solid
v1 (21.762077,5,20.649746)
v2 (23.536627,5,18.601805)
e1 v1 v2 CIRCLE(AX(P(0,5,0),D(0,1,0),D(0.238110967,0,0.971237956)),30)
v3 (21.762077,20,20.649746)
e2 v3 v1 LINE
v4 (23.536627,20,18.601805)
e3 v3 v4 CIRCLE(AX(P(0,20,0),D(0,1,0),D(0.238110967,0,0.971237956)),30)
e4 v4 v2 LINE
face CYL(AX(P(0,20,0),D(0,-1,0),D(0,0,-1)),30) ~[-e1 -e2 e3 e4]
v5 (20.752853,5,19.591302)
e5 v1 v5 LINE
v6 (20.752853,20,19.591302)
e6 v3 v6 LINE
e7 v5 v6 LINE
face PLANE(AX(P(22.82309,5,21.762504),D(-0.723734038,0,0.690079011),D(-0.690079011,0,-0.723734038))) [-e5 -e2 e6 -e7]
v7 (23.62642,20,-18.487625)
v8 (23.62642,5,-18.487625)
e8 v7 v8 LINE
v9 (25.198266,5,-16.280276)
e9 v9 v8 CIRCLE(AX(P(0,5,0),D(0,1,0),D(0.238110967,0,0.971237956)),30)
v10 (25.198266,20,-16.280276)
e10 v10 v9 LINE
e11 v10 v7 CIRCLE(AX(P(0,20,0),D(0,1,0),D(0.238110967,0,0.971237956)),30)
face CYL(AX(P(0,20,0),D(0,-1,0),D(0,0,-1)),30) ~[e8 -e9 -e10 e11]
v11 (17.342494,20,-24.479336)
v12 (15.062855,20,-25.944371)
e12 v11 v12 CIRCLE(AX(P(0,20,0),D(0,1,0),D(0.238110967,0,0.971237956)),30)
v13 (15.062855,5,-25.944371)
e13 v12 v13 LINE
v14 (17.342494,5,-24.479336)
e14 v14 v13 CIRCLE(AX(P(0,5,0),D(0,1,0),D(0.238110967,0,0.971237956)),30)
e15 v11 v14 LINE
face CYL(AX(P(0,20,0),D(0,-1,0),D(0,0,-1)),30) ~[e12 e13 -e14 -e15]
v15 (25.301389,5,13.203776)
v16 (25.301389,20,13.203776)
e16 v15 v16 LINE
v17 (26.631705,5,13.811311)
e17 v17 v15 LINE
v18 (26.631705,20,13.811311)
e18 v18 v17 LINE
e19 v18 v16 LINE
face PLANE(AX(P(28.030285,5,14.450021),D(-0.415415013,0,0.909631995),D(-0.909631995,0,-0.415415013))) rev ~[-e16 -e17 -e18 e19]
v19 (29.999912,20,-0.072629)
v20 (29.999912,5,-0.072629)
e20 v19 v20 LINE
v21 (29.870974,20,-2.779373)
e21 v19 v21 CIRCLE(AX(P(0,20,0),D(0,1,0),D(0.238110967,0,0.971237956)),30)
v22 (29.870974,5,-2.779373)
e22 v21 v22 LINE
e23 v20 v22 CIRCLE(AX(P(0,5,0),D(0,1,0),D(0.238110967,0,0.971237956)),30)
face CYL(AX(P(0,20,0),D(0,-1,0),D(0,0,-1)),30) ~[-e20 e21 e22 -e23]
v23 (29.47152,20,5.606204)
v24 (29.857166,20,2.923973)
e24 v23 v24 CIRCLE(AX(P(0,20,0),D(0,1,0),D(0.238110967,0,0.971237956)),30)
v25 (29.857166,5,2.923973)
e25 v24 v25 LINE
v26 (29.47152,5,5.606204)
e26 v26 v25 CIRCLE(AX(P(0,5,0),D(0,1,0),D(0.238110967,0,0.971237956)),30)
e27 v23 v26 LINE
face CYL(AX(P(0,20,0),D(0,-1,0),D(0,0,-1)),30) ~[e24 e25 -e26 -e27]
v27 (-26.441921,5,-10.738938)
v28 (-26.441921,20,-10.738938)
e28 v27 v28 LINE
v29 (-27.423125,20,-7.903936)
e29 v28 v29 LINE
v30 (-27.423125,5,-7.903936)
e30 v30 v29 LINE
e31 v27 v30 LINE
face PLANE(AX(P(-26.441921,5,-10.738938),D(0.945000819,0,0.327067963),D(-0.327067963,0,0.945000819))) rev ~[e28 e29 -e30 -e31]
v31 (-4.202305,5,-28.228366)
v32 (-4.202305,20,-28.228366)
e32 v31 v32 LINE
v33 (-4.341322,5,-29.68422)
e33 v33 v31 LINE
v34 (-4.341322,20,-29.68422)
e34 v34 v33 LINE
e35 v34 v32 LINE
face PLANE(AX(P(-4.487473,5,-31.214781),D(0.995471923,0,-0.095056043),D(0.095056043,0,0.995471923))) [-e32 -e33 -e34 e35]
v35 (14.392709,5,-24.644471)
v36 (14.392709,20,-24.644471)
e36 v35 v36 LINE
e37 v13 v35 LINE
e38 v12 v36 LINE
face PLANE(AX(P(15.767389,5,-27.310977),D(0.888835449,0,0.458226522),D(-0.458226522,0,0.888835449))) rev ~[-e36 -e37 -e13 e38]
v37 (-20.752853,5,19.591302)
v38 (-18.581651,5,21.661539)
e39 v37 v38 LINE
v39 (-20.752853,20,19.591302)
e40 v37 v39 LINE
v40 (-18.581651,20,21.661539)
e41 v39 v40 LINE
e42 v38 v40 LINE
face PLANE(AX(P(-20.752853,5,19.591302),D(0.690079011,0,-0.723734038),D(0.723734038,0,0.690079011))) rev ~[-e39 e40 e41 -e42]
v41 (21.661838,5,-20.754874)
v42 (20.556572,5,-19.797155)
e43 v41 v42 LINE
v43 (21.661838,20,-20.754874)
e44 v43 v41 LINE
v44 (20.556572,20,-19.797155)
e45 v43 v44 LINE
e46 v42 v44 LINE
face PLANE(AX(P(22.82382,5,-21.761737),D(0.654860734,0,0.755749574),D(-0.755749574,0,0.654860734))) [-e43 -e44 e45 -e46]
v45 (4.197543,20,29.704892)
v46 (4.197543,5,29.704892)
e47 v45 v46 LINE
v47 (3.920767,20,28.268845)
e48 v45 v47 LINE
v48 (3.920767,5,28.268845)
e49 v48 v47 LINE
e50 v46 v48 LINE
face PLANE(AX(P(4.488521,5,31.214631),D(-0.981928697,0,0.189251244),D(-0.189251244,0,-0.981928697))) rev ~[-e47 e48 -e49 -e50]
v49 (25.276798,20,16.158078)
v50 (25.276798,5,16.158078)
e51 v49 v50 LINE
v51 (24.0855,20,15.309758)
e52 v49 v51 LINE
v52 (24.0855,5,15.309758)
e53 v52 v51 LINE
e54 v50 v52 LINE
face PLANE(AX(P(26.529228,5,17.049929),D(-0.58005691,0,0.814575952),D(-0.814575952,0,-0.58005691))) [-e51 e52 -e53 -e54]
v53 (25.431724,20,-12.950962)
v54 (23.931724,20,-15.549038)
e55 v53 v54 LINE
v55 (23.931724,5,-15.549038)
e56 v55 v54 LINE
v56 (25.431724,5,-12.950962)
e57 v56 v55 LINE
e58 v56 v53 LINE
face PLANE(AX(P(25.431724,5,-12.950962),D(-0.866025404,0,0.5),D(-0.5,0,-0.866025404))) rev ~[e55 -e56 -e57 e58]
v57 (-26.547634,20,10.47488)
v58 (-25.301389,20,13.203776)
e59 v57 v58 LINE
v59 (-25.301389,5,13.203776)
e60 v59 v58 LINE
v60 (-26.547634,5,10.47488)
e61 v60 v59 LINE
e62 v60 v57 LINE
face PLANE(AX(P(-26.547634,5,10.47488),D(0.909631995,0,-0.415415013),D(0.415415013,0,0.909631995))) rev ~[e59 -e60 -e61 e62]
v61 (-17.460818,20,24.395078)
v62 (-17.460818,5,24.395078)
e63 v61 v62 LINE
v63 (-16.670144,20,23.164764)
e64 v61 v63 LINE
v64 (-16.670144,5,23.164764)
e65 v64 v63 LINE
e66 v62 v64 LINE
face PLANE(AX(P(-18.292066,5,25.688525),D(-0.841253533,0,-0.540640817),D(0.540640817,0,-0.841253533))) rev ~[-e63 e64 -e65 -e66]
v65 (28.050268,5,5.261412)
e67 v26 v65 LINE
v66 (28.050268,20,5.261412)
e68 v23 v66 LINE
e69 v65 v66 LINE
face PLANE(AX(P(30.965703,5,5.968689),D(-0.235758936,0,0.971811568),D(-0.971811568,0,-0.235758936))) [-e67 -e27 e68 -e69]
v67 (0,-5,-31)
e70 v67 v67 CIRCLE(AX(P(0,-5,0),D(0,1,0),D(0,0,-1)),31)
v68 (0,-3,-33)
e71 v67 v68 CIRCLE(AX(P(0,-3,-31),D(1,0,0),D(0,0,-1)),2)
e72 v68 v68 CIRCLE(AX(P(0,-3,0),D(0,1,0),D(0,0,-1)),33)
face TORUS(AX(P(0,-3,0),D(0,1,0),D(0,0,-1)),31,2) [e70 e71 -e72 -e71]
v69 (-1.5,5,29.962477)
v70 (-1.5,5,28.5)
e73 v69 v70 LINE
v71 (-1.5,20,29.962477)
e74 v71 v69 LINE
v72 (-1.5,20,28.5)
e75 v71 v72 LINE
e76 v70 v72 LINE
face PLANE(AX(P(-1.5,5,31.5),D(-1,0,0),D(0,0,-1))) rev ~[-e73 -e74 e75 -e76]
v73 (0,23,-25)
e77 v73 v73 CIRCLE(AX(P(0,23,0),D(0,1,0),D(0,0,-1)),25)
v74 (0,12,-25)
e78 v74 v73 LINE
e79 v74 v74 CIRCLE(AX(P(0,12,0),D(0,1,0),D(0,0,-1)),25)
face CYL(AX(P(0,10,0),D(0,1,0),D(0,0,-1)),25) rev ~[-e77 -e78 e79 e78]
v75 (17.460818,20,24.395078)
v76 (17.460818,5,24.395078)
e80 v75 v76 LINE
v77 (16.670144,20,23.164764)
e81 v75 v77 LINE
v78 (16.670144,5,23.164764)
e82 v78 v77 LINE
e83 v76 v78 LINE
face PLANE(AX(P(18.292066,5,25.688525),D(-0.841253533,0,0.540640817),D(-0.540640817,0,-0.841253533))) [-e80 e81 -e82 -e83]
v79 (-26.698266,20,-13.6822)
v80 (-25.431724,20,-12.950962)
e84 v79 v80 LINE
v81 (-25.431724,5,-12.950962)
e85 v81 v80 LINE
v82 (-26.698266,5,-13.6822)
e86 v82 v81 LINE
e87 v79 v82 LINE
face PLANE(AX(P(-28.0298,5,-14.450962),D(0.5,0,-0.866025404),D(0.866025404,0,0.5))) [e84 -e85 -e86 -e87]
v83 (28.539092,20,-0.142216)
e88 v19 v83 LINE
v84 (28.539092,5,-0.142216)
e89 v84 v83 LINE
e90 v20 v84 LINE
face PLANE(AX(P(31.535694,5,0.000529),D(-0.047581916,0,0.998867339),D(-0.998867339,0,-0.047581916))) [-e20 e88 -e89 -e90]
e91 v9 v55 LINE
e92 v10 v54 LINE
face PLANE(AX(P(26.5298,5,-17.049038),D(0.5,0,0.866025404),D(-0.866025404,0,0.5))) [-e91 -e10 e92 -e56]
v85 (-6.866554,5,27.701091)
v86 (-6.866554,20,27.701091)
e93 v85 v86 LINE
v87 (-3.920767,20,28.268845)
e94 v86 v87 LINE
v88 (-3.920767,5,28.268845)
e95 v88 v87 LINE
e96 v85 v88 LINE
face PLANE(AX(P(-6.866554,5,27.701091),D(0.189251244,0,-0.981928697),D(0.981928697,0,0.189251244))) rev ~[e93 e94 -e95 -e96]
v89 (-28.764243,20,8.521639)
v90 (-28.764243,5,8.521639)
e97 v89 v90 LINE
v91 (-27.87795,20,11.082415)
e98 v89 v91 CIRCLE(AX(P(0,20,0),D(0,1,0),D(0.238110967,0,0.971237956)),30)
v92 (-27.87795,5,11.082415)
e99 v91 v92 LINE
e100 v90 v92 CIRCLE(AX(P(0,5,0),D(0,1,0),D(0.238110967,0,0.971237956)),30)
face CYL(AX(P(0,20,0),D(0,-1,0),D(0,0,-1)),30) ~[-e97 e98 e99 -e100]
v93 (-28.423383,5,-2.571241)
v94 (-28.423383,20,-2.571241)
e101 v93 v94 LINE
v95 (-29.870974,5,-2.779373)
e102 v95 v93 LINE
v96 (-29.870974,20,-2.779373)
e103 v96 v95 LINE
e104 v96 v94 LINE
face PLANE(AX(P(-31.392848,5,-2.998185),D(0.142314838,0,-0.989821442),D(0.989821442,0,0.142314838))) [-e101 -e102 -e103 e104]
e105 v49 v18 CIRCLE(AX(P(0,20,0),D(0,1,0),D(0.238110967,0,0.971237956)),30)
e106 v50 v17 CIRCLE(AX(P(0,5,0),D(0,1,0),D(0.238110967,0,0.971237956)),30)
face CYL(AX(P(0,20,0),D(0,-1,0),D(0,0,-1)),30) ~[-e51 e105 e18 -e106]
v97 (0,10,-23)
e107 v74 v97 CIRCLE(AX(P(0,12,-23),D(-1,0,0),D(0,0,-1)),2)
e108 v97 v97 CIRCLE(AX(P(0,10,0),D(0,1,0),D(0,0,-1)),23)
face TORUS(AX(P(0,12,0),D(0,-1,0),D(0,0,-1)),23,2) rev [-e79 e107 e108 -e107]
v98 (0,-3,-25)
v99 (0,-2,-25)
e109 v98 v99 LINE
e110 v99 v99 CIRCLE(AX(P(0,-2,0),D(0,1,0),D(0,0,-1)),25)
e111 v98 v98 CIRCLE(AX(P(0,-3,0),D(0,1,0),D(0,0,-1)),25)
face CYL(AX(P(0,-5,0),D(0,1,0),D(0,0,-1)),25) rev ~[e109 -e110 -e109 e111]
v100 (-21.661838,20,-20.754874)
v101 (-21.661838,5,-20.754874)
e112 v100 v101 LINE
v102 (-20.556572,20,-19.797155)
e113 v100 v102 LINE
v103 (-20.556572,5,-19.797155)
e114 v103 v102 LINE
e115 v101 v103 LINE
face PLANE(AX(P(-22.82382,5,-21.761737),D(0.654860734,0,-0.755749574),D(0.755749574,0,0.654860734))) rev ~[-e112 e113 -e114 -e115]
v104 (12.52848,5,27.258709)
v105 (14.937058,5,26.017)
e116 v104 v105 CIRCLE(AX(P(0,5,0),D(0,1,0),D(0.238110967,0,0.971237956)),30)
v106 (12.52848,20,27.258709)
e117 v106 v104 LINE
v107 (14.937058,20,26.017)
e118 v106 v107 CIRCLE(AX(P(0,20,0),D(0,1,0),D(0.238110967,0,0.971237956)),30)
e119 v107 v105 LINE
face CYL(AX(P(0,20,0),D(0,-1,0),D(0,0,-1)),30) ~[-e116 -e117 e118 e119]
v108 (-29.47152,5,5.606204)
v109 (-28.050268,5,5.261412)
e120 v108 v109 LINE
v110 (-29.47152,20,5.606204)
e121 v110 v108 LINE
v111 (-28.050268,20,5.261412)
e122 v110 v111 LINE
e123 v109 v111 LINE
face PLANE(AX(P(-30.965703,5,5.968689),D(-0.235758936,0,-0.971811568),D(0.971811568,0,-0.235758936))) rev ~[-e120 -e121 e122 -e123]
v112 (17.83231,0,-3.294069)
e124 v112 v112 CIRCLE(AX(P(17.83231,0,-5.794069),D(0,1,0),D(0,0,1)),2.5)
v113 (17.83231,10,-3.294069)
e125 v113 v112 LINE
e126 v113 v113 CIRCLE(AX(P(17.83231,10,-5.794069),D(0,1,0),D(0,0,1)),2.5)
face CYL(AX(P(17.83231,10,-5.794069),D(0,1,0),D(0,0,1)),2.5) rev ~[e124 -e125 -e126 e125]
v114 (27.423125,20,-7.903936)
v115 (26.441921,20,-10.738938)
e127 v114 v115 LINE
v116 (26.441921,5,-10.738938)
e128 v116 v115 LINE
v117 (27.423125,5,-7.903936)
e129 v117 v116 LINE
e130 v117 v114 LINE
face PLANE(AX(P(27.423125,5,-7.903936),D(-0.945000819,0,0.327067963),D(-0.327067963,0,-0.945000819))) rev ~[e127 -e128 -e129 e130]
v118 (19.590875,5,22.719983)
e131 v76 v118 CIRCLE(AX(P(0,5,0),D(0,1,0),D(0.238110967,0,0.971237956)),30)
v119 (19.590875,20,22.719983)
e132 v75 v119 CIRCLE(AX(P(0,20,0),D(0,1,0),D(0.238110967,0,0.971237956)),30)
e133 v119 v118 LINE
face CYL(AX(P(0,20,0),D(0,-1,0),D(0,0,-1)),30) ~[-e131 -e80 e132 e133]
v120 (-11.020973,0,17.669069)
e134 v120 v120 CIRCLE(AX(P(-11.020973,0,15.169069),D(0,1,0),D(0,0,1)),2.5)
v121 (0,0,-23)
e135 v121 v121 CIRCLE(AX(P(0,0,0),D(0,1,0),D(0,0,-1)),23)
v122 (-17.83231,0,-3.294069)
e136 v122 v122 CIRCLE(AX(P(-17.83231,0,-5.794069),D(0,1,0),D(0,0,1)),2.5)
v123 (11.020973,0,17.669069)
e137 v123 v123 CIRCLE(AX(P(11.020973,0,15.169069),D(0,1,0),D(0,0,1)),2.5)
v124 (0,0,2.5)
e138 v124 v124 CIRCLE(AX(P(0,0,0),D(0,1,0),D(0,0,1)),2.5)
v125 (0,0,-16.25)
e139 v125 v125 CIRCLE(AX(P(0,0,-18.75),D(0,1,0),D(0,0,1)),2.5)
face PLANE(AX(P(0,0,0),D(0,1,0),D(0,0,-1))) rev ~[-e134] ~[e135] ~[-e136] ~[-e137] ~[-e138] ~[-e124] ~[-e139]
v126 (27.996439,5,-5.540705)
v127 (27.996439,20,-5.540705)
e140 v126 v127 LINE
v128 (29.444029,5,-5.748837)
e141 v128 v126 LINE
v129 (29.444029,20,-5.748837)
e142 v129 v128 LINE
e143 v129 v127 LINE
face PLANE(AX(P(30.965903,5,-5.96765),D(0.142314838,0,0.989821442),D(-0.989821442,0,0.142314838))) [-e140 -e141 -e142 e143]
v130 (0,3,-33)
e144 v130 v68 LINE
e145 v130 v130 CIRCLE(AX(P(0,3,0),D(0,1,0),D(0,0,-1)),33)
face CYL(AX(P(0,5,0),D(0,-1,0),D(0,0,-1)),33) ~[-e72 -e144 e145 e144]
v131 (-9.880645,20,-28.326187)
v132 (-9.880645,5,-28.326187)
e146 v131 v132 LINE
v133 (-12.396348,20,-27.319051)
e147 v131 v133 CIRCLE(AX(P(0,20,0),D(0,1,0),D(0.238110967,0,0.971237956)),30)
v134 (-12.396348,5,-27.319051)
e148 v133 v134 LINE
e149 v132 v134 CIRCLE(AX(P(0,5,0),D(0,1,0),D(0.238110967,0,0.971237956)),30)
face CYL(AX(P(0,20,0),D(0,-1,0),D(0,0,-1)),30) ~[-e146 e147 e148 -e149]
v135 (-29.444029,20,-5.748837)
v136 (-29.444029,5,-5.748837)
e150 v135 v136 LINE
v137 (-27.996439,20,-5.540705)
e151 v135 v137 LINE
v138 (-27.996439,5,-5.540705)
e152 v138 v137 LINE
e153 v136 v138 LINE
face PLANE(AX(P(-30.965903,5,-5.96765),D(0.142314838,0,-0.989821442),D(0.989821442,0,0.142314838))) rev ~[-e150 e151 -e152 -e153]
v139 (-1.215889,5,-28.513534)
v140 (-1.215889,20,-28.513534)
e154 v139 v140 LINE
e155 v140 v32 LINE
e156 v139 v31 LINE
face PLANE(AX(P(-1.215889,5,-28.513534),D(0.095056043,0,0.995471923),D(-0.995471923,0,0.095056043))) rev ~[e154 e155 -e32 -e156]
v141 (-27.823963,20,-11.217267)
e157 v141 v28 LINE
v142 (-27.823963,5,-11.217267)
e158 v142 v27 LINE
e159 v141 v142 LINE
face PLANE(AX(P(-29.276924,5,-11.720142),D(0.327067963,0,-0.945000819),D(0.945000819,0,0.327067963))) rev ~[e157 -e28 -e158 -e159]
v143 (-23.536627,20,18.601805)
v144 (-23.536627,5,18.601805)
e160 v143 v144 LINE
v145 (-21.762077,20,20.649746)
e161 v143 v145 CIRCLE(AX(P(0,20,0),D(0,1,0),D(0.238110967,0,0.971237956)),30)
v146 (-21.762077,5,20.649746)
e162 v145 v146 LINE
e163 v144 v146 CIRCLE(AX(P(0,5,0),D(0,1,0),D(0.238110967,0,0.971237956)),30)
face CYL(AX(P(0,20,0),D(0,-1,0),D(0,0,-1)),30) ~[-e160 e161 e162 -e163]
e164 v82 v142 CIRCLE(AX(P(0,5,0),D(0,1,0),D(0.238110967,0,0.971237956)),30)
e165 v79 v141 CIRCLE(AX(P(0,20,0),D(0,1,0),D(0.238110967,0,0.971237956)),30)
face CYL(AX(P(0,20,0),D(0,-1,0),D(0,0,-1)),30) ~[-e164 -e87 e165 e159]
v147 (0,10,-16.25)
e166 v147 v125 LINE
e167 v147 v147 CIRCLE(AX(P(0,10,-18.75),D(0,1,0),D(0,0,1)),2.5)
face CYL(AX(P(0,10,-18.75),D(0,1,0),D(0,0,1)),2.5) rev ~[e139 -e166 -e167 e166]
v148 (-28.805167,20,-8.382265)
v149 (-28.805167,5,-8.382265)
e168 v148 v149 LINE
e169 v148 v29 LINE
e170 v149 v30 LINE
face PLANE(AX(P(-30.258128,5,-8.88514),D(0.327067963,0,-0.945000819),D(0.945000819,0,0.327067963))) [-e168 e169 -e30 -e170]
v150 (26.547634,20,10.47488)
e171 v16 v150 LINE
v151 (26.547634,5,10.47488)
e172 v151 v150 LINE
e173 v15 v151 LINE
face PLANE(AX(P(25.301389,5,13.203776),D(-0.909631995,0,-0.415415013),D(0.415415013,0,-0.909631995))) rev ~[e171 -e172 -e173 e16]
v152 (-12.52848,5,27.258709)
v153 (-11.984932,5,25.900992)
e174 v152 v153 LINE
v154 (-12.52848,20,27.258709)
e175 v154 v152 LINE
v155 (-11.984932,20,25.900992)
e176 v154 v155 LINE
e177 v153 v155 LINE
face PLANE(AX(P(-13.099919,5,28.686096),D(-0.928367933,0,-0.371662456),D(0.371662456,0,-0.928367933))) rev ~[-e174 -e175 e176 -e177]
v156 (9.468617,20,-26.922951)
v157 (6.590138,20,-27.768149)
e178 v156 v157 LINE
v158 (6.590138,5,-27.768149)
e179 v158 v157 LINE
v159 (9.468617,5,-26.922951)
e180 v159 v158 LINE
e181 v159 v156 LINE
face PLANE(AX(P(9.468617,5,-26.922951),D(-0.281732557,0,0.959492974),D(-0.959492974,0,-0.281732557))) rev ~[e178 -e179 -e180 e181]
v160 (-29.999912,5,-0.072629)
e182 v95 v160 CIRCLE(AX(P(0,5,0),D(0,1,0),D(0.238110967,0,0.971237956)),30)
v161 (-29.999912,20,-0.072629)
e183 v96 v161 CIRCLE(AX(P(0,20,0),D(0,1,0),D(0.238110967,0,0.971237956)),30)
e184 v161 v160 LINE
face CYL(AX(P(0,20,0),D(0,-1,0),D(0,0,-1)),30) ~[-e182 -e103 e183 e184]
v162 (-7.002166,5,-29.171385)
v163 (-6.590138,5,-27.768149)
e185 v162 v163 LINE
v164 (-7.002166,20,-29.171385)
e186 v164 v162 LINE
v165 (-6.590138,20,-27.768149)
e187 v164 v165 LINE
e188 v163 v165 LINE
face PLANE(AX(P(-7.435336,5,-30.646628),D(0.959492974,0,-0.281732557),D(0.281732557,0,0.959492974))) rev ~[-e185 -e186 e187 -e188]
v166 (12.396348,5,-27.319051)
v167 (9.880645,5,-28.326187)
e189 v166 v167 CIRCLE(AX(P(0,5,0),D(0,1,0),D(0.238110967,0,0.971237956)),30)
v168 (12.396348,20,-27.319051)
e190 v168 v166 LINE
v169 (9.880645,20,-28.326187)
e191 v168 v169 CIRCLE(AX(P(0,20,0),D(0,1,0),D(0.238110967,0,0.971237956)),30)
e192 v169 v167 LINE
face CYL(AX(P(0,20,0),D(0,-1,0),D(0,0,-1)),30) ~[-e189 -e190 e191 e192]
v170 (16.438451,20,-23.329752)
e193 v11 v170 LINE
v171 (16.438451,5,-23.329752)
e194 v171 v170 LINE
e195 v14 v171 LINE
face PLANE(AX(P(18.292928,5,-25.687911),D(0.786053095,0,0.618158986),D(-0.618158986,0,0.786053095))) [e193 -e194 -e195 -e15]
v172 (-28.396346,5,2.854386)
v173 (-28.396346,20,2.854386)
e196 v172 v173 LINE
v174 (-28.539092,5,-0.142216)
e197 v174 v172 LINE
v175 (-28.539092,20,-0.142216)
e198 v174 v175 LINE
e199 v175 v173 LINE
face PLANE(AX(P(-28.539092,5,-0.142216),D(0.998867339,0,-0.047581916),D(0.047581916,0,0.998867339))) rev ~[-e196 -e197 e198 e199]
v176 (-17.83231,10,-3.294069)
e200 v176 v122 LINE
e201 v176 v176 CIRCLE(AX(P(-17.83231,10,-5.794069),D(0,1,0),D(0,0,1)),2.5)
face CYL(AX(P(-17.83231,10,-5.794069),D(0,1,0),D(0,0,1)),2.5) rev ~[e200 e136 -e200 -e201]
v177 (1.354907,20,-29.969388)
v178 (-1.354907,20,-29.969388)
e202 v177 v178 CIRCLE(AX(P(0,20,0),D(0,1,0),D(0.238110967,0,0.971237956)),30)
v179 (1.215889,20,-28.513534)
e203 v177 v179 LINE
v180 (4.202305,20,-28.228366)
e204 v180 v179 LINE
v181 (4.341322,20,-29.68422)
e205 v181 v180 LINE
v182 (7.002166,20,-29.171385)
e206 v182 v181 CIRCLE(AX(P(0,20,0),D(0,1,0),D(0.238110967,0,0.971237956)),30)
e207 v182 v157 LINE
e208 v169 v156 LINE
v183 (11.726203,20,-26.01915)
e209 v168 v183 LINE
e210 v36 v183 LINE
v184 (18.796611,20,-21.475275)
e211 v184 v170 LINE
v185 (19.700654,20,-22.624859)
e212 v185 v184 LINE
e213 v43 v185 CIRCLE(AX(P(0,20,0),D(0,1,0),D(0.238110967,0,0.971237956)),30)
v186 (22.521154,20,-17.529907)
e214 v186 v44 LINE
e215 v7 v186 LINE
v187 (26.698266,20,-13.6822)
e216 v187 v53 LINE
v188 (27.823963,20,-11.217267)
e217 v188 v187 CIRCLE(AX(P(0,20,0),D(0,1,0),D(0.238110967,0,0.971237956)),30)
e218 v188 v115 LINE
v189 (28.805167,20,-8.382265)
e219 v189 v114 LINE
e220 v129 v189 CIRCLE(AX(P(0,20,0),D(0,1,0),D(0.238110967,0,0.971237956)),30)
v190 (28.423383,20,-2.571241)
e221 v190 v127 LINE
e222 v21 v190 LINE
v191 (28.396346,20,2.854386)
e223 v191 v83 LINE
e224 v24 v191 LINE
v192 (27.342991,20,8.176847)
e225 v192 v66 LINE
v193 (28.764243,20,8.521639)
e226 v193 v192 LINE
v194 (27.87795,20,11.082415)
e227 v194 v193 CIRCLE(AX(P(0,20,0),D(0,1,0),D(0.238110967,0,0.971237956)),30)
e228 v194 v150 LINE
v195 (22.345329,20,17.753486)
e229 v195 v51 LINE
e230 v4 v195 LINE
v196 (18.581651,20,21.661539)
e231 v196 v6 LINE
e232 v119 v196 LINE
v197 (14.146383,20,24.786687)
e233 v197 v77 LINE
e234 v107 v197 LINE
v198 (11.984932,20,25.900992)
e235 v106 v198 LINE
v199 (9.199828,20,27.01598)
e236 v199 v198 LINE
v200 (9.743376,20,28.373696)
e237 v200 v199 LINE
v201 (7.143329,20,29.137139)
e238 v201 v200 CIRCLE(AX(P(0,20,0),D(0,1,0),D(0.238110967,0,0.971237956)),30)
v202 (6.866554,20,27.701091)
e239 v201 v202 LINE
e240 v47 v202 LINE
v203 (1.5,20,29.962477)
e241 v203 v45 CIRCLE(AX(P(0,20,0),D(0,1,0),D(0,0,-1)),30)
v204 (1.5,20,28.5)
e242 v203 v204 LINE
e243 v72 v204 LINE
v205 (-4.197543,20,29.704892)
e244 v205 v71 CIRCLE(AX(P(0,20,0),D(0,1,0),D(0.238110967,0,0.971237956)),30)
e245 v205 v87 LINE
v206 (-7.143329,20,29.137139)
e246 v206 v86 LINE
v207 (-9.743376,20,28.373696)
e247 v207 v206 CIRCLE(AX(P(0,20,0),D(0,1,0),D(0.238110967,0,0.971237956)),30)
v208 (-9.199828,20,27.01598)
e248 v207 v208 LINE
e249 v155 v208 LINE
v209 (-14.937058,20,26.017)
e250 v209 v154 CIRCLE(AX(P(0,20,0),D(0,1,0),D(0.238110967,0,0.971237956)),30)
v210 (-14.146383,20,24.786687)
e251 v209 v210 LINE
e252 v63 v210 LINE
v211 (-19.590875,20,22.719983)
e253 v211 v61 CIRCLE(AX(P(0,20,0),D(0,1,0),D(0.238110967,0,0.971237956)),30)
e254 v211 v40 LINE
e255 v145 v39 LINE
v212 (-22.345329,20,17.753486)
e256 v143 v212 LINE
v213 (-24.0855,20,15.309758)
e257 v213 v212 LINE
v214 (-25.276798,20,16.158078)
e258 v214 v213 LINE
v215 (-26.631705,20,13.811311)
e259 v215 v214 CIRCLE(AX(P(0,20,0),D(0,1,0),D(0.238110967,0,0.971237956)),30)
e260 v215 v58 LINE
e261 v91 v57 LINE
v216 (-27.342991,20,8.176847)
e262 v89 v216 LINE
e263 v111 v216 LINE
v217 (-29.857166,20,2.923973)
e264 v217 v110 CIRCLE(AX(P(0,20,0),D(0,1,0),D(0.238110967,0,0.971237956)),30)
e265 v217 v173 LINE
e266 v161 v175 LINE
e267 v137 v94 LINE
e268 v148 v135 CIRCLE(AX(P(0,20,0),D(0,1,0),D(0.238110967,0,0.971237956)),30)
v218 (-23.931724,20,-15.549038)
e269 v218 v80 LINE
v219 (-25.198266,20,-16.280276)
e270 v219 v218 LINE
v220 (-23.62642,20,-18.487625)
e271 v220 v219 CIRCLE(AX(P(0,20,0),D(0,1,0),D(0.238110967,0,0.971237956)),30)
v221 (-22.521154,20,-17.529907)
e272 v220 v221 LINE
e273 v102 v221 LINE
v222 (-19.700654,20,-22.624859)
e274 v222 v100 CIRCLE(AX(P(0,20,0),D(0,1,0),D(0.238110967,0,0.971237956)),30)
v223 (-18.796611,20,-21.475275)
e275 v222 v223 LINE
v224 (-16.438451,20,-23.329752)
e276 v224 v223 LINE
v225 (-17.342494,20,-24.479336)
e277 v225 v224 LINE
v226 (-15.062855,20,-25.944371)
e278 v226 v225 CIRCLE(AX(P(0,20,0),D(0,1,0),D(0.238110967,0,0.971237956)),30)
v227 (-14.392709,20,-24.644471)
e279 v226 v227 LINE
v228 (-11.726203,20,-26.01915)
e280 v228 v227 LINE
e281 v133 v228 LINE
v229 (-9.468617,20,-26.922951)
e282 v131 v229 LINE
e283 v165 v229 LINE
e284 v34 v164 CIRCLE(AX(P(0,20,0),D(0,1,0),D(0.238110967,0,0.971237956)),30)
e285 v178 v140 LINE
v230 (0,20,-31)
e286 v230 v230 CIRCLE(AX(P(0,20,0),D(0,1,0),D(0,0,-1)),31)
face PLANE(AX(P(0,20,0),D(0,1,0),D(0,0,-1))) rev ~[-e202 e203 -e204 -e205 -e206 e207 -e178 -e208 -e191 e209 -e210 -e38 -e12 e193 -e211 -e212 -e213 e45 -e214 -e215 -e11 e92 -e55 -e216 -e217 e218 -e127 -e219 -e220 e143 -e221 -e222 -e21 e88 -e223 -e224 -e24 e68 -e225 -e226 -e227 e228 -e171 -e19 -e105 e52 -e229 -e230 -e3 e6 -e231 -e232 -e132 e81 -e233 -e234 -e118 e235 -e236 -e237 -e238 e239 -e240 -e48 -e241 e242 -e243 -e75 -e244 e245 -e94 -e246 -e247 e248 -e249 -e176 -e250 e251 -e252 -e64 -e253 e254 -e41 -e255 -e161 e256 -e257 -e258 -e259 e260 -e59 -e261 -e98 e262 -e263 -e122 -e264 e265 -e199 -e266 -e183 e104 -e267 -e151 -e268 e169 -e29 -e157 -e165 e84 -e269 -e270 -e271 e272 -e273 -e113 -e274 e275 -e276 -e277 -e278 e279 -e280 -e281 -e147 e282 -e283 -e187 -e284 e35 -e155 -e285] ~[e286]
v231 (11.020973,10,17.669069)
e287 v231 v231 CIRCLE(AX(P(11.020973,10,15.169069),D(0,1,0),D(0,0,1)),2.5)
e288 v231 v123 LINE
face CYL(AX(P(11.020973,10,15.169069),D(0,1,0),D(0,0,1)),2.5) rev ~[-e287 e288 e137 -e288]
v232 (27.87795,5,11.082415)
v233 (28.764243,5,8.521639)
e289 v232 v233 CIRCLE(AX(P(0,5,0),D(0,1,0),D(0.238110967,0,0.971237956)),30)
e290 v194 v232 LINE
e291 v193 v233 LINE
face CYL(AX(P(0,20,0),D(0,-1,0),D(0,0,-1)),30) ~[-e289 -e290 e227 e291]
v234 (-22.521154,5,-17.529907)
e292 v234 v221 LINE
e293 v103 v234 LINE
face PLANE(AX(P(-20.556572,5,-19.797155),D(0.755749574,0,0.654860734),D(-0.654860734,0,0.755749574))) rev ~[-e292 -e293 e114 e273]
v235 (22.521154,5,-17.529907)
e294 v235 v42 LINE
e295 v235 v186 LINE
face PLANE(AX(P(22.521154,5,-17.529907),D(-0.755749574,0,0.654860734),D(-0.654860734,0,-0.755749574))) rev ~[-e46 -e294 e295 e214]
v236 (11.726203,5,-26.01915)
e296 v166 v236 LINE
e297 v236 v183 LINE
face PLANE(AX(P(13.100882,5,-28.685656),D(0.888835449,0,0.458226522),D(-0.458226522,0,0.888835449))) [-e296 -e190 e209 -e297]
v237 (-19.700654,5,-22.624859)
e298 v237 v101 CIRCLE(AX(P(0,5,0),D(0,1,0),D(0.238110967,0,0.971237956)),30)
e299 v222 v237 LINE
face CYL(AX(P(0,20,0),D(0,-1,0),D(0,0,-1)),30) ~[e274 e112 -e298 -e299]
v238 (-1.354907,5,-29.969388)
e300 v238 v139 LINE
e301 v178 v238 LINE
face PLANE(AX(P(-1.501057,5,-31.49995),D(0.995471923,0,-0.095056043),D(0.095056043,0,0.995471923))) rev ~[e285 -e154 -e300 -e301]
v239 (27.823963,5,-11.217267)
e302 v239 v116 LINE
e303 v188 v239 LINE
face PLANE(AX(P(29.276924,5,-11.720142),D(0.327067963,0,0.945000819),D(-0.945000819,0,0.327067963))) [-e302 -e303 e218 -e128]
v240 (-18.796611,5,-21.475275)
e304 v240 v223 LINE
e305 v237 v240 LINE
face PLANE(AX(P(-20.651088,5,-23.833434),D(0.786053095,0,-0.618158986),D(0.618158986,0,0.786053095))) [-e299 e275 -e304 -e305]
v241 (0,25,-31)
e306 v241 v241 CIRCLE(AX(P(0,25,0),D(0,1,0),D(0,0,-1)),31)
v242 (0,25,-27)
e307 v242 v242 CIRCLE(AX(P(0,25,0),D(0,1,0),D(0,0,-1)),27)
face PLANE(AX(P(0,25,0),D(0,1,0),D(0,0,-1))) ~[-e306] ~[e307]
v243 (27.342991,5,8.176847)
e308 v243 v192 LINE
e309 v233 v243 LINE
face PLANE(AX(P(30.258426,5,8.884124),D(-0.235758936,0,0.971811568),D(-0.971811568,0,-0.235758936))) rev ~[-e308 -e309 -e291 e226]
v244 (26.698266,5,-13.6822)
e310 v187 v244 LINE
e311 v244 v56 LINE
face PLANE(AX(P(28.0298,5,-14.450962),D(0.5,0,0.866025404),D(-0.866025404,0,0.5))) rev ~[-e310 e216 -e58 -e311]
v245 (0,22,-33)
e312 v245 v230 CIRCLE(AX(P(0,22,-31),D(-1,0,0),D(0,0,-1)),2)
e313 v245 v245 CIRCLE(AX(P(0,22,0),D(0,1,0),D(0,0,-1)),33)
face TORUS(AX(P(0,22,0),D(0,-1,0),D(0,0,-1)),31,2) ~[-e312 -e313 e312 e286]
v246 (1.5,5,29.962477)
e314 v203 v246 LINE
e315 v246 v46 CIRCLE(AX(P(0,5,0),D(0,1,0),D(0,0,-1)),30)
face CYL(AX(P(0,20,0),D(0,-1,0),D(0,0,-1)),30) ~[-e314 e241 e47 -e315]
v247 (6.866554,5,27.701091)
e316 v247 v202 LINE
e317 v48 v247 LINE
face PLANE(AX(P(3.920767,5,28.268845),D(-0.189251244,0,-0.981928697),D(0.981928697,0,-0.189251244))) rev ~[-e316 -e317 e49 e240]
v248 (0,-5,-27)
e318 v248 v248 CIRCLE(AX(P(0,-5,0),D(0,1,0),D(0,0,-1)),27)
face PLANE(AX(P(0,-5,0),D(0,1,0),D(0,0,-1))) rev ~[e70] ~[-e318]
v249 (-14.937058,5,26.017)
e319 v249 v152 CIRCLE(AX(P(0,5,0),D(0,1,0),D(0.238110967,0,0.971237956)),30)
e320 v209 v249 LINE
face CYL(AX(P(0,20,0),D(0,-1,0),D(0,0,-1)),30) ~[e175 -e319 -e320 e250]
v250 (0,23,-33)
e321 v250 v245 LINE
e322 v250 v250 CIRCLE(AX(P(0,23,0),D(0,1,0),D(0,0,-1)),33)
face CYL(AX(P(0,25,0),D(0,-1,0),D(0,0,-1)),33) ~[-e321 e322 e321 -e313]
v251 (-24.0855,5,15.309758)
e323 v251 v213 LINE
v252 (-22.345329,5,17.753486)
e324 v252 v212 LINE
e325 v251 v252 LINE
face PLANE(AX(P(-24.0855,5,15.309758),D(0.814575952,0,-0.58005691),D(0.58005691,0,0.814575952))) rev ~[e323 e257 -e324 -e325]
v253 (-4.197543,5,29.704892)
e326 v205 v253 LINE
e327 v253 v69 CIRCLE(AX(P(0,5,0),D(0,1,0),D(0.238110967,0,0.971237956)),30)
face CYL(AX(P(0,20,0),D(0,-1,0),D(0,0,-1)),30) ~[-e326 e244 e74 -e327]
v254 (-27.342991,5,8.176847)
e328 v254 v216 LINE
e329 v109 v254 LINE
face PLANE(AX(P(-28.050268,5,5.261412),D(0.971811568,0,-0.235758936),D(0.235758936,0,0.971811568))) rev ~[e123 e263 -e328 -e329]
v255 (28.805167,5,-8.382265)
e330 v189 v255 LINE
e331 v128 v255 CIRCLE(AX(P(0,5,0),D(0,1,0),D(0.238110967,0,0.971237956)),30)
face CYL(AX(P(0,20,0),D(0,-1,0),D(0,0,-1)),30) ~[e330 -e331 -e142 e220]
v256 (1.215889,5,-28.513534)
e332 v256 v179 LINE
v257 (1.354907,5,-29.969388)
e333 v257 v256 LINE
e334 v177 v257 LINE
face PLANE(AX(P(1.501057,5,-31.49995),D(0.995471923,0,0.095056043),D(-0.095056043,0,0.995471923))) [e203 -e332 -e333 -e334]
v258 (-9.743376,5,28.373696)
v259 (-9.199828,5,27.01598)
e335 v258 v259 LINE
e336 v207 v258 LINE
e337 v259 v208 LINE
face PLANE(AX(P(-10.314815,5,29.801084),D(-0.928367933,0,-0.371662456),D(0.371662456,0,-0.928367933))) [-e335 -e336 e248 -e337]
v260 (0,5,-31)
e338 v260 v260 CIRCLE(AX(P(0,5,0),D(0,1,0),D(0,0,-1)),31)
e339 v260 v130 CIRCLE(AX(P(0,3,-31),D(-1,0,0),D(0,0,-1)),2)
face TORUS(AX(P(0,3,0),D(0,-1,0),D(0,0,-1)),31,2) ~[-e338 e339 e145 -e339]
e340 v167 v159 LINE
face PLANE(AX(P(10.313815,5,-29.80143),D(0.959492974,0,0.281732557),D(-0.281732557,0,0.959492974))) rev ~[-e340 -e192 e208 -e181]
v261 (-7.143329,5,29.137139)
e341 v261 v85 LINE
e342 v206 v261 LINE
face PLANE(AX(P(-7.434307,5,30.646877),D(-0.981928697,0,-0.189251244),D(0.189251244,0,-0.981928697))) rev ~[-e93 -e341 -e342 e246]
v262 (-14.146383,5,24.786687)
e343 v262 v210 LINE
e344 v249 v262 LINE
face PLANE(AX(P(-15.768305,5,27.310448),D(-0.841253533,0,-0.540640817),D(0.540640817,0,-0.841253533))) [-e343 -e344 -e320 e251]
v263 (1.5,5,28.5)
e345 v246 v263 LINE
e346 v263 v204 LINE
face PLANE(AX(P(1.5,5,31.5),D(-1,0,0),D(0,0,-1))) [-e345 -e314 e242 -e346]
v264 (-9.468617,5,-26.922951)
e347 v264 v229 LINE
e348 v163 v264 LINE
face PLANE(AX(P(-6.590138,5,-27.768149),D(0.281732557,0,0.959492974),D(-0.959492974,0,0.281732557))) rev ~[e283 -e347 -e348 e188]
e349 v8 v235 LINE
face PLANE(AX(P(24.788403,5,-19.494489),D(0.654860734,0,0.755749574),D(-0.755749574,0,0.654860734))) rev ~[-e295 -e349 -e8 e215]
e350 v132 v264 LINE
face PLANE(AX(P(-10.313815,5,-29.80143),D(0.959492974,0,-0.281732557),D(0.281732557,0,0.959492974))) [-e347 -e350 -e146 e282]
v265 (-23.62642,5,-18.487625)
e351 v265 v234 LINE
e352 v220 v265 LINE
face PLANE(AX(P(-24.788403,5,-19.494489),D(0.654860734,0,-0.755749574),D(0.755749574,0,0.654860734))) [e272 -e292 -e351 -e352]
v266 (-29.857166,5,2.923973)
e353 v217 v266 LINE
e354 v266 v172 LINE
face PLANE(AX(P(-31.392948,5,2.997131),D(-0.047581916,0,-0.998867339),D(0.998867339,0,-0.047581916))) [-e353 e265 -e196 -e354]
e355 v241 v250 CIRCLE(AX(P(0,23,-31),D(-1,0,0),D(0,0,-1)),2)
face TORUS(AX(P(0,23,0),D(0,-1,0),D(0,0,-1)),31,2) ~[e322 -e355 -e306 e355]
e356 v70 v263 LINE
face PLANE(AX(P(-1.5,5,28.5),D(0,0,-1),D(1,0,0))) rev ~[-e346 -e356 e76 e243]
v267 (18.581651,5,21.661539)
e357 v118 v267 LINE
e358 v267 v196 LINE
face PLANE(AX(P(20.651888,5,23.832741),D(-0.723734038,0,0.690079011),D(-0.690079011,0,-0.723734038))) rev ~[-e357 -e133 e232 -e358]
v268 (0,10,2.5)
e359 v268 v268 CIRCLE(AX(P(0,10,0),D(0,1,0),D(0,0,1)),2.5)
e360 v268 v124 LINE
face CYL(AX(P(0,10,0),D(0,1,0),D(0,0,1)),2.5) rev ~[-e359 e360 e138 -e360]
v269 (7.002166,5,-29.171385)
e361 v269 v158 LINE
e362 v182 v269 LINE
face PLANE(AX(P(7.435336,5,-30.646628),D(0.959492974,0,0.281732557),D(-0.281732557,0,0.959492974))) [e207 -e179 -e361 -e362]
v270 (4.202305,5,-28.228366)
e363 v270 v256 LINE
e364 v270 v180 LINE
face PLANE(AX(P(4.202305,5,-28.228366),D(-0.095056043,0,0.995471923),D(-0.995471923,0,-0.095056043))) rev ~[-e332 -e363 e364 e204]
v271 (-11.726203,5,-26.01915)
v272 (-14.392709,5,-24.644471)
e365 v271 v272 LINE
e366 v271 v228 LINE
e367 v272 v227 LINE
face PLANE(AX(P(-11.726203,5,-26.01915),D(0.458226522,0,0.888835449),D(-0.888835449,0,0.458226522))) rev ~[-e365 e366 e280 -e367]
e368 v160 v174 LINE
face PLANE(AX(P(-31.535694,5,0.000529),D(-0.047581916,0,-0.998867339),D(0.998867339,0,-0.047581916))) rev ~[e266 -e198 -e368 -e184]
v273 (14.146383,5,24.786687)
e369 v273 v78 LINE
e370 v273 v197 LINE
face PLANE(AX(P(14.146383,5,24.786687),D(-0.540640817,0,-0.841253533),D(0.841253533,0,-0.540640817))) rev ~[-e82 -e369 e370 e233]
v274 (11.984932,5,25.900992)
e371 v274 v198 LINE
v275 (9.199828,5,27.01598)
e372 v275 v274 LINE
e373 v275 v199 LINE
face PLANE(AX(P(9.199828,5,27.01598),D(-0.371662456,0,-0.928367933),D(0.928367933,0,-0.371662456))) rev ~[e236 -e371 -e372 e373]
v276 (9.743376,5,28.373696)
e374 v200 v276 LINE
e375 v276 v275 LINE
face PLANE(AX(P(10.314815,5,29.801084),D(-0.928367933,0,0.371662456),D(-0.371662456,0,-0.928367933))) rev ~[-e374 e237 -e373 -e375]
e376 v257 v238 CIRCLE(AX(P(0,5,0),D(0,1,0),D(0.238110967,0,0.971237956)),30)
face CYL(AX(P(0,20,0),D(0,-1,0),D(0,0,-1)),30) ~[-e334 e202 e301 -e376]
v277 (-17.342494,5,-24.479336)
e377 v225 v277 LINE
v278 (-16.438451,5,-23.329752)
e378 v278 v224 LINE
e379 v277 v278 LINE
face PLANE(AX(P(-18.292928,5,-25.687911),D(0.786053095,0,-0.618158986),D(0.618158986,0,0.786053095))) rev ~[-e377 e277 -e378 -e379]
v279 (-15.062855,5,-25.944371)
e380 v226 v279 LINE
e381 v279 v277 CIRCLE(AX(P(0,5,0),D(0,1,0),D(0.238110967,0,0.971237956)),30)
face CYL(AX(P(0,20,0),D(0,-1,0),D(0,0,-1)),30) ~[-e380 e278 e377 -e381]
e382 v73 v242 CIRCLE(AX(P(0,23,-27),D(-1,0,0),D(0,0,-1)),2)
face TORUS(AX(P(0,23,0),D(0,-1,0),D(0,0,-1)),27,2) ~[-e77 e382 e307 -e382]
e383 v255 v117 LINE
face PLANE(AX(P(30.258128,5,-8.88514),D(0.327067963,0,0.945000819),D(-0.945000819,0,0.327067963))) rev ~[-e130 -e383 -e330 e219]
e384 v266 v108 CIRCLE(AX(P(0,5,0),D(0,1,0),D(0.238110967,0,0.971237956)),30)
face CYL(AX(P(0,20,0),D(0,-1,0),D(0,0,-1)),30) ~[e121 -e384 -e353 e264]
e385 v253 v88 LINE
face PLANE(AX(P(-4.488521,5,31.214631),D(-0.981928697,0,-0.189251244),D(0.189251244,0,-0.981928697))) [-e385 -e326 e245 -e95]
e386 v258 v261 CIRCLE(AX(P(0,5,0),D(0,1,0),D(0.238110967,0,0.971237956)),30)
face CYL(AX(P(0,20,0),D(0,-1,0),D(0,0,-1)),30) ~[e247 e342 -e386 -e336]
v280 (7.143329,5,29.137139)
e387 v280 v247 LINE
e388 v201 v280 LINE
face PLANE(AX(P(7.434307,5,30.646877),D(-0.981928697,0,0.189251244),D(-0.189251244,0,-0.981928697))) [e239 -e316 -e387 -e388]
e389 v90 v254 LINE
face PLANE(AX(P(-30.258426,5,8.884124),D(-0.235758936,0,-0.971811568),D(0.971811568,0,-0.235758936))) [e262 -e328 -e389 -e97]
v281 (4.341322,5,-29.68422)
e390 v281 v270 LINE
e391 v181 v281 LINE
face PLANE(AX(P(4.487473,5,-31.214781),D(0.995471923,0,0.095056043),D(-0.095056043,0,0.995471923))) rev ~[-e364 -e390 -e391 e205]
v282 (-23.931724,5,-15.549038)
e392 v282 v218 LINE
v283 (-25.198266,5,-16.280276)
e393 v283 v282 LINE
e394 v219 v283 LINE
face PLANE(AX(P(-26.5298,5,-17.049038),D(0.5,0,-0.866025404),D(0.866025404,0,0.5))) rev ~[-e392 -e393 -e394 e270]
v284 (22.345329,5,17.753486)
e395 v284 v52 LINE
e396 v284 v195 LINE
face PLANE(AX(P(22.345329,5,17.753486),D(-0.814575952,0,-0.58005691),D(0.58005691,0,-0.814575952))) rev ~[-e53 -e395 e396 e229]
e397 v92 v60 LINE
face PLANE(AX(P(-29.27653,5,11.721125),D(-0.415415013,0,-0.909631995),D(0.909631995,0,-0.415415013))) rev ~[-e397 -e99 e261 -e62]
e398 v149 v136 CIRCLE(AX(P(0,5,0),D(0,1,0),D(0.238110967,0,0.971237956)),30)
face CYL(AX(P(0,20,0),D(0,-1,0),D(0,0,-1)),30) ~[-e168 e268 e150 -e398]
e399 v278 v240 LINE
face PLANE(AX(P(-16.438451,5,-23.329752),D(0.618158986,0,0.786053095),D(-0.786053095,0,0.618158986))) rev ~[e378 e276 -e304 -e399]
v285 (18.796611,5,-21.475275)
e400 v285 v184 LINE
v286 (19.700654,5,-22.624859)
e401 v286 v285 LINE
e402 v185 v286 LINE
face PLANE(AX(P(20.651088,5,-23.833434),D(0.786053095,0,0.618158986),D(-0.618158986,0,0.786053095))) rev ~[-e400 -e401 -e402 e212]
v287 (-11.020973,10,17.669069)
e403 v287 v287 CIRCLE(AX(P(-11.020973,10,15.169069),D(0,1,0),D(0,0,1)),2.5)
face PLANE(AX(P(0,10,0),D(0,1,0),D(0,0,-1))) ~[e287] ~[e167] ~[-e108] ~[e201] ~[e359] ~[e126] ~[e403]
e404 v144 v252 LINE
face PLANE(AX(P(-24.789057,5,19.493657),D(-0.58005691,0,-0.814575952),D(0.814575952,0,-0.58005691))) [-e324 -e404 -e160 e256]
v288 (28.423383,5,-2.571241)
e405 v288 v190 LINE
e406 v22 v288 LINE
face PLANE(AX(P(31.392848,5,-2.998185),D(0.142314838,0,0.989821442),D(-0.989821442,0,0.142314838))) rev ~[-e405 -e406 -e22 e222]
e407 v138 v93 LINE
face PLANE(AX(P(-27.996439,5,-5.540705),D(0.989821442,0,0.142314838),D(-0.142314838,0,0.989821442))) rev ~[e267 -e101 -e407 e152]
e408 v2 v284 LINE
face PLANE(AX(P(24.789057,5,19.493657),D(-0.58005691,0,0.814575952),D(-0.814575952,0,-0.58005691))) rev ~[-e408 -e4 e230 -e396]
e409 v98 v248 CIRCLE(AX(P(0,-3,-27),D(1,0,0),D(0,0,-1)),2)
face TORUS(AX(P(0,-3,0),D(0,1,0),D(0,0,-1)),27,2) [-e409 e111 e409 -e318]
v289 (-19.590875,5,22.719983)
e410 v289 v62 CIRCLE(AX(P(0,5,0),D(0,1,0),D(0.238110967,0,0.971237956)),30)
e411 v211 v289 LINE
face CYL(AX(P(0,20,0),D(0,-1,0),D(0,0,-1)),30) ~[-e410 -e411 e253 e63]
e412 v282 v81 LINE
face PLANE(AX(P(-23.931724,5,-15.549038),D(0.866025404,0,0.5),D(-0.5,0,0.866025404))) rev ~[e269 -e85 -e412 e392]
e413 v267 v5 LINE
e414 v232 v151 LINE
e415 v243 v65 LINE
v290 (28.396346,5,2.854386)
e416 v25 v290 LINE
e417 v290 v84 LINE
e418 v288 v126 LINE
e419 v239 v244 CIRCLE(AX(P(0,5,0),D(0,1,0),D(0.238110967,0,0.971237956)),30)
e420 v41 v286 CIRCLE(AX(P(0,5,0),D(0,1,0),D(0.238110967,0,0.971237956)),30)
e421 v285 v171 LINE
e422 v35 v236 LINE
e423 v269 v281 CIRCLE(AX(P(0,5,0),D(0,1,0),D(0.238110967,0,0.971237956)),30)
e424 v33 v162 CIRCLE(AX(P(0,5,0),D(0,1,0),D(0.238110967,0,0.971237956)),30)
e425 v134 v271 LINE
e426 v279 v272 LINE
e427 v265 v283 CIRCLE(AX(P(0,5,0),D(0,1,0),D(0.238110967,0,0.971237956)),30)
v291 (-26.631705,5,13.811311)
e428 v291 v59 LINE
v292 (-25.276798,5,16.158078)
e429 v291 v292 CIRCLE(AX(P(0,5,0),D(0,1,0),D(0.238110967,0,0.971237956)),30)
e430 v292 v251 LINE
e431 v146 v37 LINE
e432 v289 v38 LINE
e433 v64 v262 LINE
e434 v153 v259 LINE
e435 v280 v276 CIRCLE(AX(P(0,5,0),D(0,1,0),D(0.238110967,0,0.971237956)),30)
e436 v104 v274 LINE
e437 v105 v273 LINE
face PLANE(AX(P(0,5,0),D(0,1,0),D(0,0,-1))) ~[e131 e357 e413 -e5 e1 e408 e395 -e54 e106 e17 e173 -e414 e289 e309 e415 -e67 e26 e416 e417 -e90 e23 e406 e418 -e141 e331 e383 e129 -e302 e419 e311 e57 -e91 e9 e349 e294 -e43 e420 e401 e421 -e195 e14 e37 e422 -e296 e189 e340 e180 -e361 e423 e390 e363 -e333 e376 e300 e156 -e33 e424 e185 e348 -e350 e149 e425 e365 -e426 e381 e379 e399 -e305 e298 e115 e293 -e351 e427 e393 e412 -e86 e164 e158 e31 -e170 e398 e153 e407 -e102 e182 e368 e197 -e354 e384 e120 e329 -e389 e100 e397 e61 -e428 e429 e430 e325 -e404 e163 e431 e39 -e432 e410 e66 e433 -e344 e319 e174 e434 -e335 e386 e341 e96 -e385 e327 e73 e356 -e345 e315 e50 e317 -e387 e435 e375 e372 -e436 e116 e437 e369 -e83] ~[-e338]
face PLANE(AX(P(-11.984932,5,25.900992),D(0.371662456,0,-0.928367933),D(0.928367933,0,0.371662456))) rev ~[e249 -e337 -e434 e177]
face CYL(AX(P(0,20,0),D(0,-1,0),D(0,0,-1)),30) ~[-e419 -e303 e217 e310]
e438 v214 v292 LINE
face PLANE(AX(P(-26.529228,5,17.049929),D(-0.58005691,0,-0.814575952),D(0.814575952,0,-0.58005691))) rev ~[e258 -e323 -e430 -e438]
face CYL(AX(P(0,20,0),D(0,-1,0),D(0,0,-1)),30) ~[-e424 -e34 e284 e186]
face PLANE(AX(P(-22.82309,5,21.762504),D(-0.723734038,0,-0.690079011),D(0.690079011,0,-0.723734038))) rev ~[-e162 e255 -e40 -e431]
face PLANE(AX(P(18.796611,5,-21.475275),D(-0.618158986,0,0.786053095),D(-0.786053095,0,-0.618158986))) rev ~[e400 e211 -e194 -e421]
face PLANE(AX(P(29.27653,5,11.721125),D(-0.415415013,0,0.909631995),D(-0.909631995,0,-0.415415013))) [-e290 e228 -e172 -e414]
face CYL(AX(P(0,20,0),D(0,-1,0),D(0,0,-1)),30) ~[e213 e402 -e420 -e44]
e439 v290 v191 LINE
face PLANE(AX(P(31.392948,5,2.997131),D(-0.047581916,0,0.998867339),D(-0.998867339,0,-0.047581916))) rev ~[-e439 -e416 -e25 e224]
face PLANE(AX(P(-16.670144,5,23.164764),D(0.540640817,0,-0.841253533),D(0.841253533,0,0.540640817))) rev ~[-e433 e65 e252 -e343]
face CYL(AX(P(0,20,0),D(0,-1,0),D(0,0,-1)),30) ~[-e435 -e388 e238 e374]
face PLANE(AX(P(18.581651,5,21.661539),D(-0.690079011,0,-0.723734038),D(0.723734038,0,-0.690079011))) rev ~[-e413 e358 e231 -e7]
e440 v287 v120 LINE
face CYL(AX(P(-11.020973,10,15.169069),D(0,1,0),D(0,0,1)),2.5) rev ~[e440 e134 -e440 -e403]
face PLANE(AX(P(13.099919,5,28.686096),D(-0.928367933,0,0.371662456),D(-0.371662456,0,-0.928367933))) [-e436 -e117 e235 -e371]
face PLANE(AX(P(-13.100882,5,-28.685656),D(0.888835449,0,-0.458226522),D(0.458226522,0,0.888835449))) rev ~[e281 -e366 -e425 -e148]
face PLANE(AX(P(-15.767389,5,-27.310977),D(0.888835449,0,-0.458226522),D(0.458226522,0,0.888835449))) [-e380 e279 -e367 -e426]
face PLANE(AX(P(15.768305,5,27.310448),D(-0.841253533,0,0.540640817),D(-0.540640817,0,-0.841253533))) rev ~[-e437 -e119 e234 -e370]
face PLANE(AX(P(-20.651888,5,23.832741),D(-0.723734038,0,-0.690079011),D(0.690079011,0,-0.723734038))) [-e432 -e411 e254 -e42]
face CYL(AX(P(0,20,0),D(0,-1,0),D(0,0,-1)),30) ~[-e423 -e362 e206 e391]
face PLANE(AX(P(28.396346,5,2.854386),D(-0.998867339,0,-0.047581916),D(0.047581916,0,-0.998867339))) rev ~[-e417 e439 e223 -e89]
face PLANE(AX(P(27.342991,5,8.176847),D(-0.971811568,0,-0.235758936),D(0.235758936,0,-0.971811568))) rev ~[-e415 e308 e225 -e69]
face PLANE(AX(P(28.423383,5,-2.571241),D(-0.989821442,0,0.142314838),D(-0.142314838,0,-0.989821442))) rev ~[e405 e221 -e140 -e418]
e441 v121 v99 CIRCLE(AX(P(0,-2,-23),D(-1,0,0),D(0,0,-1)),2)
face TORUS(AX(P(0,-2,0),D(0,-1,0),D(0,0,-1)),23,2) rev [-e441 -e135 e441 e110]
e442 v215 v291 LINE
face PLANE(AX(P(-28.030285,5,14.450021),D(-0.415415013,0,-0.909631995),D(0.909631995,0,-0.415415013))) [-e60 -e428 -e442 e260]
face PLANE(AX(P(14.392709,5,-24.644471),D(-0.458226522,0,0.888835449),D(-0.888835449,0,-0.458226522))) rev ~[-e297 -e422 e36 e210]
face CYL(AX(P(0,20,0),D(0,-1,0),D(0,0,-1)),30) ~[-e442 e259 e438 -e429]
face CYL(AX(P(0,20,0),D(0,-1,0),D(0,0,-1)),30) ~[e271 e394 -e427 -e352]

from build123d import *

# Parameters (mm, degrees)
SKETCH2_R          = 2.5
CUT_EXTRUDE1_DEPTH = 10
SKETCH3_W          = 3
SKETCH3_H          = 3
CUT_EXTRUDE2_DEPTH = 15
CIRPATTERN1_COUNT  = 33
FILLET3_R          = 2


with BuildPart() as part:
    # Sketch1 → Revolve1 (revolve)
    with BuildSketch(Plane.XY, mode=Mode.PRIVATE) as revolve1_sk:
        Polygon((25, 10), (25, 25), (33, 25), (33, 20), (30, 20), (30, 5), (33, 5), (33, -5), (25, -5), (25, 0), (0, 0), (0, 10), align=None)
    revolve(revolve1_sk.sketch.rotate(Axis((0, 0, 0), (0, 1, 0)), 90), axis=Axis((0, 0, 0), (0, 1, 0)))

    # Sketch2 → Cut-Extrude1 (cut)
    with BuildSketch(Plane(origin=(0, 10, 0), x_dir=(1, 0, 0), z_dir=(0, 1, 0))):
        with Locations(Location((0, 0, 0), (0, 0, 270))):
            Circle(SKETCH2_R)
        with Locations(Location((0, 18.75, 0), (0, 0, 270))):
            Circle(SKETCH2_R)
        with Locations(Location((17.832309681, 5.794068645, 0), (0, 0, 270))):
            Circle(SKETCH2_R)
        with Locations(Location((11.02097348, -15.169068645, 0), (0, 0, 270))):
            Circle(SKETCH2_R)
        with Locations(Location((-11.02097348, -15.169068645, 0), (0, 0, 270))):
            Circle(SKETCH2_R)
        with Locations(Location((-17.832309681, 5.794068645, 0), (0, 0, 270))):
            Circle(SKETCH2_R)
    extrude(amount=-CUT_EXTRUDE1_DEPTH, mode=Mode.SUBTRACT)

    # Sketch3 → Cut-Extrude2 (cut)
    with BuildSketch(Plane(origin=(0, 5, 0), x_dir=(1, 0, 0), z_dir=(0, 1, 0))):
        with Locations((0, -30)):
            Rectangle(SKETCH3_W, SKETCH3_H)
    cut_extrude2 = extrude(amount=CUT_EXTRUDE2_DEPTH, mode=Mode.SUBTRACT)

    # CirPattern1: Cut-Extrude2 ×33 about axis
    cirpattern1_axis = Axis((0, 0, 0), (0, 1, 0))
    for i in range(1, CIRPATTERN1_COUNT):
        add(cut_extrude2.rotate(cirpattern1_axis, i * 360 / CIRPATTERN1_COUNT), mode=Mode.SUBTRACT)

    # Fillet3
    fillet3_edges = [part.edges().sort_by_distance(p)[0] for p in [
        (0, -5, 25),
        (0, -5, 33),
        (0, 5, 33),
        (0, 20, 33),
        (0, 25, 33),
        (0, 25, 25),
        (0, 10, 25),
        (0, 0, 25),
    ]]
    fillet(fillet3_edges, radius=FILLET3_R)


solid = part.part
